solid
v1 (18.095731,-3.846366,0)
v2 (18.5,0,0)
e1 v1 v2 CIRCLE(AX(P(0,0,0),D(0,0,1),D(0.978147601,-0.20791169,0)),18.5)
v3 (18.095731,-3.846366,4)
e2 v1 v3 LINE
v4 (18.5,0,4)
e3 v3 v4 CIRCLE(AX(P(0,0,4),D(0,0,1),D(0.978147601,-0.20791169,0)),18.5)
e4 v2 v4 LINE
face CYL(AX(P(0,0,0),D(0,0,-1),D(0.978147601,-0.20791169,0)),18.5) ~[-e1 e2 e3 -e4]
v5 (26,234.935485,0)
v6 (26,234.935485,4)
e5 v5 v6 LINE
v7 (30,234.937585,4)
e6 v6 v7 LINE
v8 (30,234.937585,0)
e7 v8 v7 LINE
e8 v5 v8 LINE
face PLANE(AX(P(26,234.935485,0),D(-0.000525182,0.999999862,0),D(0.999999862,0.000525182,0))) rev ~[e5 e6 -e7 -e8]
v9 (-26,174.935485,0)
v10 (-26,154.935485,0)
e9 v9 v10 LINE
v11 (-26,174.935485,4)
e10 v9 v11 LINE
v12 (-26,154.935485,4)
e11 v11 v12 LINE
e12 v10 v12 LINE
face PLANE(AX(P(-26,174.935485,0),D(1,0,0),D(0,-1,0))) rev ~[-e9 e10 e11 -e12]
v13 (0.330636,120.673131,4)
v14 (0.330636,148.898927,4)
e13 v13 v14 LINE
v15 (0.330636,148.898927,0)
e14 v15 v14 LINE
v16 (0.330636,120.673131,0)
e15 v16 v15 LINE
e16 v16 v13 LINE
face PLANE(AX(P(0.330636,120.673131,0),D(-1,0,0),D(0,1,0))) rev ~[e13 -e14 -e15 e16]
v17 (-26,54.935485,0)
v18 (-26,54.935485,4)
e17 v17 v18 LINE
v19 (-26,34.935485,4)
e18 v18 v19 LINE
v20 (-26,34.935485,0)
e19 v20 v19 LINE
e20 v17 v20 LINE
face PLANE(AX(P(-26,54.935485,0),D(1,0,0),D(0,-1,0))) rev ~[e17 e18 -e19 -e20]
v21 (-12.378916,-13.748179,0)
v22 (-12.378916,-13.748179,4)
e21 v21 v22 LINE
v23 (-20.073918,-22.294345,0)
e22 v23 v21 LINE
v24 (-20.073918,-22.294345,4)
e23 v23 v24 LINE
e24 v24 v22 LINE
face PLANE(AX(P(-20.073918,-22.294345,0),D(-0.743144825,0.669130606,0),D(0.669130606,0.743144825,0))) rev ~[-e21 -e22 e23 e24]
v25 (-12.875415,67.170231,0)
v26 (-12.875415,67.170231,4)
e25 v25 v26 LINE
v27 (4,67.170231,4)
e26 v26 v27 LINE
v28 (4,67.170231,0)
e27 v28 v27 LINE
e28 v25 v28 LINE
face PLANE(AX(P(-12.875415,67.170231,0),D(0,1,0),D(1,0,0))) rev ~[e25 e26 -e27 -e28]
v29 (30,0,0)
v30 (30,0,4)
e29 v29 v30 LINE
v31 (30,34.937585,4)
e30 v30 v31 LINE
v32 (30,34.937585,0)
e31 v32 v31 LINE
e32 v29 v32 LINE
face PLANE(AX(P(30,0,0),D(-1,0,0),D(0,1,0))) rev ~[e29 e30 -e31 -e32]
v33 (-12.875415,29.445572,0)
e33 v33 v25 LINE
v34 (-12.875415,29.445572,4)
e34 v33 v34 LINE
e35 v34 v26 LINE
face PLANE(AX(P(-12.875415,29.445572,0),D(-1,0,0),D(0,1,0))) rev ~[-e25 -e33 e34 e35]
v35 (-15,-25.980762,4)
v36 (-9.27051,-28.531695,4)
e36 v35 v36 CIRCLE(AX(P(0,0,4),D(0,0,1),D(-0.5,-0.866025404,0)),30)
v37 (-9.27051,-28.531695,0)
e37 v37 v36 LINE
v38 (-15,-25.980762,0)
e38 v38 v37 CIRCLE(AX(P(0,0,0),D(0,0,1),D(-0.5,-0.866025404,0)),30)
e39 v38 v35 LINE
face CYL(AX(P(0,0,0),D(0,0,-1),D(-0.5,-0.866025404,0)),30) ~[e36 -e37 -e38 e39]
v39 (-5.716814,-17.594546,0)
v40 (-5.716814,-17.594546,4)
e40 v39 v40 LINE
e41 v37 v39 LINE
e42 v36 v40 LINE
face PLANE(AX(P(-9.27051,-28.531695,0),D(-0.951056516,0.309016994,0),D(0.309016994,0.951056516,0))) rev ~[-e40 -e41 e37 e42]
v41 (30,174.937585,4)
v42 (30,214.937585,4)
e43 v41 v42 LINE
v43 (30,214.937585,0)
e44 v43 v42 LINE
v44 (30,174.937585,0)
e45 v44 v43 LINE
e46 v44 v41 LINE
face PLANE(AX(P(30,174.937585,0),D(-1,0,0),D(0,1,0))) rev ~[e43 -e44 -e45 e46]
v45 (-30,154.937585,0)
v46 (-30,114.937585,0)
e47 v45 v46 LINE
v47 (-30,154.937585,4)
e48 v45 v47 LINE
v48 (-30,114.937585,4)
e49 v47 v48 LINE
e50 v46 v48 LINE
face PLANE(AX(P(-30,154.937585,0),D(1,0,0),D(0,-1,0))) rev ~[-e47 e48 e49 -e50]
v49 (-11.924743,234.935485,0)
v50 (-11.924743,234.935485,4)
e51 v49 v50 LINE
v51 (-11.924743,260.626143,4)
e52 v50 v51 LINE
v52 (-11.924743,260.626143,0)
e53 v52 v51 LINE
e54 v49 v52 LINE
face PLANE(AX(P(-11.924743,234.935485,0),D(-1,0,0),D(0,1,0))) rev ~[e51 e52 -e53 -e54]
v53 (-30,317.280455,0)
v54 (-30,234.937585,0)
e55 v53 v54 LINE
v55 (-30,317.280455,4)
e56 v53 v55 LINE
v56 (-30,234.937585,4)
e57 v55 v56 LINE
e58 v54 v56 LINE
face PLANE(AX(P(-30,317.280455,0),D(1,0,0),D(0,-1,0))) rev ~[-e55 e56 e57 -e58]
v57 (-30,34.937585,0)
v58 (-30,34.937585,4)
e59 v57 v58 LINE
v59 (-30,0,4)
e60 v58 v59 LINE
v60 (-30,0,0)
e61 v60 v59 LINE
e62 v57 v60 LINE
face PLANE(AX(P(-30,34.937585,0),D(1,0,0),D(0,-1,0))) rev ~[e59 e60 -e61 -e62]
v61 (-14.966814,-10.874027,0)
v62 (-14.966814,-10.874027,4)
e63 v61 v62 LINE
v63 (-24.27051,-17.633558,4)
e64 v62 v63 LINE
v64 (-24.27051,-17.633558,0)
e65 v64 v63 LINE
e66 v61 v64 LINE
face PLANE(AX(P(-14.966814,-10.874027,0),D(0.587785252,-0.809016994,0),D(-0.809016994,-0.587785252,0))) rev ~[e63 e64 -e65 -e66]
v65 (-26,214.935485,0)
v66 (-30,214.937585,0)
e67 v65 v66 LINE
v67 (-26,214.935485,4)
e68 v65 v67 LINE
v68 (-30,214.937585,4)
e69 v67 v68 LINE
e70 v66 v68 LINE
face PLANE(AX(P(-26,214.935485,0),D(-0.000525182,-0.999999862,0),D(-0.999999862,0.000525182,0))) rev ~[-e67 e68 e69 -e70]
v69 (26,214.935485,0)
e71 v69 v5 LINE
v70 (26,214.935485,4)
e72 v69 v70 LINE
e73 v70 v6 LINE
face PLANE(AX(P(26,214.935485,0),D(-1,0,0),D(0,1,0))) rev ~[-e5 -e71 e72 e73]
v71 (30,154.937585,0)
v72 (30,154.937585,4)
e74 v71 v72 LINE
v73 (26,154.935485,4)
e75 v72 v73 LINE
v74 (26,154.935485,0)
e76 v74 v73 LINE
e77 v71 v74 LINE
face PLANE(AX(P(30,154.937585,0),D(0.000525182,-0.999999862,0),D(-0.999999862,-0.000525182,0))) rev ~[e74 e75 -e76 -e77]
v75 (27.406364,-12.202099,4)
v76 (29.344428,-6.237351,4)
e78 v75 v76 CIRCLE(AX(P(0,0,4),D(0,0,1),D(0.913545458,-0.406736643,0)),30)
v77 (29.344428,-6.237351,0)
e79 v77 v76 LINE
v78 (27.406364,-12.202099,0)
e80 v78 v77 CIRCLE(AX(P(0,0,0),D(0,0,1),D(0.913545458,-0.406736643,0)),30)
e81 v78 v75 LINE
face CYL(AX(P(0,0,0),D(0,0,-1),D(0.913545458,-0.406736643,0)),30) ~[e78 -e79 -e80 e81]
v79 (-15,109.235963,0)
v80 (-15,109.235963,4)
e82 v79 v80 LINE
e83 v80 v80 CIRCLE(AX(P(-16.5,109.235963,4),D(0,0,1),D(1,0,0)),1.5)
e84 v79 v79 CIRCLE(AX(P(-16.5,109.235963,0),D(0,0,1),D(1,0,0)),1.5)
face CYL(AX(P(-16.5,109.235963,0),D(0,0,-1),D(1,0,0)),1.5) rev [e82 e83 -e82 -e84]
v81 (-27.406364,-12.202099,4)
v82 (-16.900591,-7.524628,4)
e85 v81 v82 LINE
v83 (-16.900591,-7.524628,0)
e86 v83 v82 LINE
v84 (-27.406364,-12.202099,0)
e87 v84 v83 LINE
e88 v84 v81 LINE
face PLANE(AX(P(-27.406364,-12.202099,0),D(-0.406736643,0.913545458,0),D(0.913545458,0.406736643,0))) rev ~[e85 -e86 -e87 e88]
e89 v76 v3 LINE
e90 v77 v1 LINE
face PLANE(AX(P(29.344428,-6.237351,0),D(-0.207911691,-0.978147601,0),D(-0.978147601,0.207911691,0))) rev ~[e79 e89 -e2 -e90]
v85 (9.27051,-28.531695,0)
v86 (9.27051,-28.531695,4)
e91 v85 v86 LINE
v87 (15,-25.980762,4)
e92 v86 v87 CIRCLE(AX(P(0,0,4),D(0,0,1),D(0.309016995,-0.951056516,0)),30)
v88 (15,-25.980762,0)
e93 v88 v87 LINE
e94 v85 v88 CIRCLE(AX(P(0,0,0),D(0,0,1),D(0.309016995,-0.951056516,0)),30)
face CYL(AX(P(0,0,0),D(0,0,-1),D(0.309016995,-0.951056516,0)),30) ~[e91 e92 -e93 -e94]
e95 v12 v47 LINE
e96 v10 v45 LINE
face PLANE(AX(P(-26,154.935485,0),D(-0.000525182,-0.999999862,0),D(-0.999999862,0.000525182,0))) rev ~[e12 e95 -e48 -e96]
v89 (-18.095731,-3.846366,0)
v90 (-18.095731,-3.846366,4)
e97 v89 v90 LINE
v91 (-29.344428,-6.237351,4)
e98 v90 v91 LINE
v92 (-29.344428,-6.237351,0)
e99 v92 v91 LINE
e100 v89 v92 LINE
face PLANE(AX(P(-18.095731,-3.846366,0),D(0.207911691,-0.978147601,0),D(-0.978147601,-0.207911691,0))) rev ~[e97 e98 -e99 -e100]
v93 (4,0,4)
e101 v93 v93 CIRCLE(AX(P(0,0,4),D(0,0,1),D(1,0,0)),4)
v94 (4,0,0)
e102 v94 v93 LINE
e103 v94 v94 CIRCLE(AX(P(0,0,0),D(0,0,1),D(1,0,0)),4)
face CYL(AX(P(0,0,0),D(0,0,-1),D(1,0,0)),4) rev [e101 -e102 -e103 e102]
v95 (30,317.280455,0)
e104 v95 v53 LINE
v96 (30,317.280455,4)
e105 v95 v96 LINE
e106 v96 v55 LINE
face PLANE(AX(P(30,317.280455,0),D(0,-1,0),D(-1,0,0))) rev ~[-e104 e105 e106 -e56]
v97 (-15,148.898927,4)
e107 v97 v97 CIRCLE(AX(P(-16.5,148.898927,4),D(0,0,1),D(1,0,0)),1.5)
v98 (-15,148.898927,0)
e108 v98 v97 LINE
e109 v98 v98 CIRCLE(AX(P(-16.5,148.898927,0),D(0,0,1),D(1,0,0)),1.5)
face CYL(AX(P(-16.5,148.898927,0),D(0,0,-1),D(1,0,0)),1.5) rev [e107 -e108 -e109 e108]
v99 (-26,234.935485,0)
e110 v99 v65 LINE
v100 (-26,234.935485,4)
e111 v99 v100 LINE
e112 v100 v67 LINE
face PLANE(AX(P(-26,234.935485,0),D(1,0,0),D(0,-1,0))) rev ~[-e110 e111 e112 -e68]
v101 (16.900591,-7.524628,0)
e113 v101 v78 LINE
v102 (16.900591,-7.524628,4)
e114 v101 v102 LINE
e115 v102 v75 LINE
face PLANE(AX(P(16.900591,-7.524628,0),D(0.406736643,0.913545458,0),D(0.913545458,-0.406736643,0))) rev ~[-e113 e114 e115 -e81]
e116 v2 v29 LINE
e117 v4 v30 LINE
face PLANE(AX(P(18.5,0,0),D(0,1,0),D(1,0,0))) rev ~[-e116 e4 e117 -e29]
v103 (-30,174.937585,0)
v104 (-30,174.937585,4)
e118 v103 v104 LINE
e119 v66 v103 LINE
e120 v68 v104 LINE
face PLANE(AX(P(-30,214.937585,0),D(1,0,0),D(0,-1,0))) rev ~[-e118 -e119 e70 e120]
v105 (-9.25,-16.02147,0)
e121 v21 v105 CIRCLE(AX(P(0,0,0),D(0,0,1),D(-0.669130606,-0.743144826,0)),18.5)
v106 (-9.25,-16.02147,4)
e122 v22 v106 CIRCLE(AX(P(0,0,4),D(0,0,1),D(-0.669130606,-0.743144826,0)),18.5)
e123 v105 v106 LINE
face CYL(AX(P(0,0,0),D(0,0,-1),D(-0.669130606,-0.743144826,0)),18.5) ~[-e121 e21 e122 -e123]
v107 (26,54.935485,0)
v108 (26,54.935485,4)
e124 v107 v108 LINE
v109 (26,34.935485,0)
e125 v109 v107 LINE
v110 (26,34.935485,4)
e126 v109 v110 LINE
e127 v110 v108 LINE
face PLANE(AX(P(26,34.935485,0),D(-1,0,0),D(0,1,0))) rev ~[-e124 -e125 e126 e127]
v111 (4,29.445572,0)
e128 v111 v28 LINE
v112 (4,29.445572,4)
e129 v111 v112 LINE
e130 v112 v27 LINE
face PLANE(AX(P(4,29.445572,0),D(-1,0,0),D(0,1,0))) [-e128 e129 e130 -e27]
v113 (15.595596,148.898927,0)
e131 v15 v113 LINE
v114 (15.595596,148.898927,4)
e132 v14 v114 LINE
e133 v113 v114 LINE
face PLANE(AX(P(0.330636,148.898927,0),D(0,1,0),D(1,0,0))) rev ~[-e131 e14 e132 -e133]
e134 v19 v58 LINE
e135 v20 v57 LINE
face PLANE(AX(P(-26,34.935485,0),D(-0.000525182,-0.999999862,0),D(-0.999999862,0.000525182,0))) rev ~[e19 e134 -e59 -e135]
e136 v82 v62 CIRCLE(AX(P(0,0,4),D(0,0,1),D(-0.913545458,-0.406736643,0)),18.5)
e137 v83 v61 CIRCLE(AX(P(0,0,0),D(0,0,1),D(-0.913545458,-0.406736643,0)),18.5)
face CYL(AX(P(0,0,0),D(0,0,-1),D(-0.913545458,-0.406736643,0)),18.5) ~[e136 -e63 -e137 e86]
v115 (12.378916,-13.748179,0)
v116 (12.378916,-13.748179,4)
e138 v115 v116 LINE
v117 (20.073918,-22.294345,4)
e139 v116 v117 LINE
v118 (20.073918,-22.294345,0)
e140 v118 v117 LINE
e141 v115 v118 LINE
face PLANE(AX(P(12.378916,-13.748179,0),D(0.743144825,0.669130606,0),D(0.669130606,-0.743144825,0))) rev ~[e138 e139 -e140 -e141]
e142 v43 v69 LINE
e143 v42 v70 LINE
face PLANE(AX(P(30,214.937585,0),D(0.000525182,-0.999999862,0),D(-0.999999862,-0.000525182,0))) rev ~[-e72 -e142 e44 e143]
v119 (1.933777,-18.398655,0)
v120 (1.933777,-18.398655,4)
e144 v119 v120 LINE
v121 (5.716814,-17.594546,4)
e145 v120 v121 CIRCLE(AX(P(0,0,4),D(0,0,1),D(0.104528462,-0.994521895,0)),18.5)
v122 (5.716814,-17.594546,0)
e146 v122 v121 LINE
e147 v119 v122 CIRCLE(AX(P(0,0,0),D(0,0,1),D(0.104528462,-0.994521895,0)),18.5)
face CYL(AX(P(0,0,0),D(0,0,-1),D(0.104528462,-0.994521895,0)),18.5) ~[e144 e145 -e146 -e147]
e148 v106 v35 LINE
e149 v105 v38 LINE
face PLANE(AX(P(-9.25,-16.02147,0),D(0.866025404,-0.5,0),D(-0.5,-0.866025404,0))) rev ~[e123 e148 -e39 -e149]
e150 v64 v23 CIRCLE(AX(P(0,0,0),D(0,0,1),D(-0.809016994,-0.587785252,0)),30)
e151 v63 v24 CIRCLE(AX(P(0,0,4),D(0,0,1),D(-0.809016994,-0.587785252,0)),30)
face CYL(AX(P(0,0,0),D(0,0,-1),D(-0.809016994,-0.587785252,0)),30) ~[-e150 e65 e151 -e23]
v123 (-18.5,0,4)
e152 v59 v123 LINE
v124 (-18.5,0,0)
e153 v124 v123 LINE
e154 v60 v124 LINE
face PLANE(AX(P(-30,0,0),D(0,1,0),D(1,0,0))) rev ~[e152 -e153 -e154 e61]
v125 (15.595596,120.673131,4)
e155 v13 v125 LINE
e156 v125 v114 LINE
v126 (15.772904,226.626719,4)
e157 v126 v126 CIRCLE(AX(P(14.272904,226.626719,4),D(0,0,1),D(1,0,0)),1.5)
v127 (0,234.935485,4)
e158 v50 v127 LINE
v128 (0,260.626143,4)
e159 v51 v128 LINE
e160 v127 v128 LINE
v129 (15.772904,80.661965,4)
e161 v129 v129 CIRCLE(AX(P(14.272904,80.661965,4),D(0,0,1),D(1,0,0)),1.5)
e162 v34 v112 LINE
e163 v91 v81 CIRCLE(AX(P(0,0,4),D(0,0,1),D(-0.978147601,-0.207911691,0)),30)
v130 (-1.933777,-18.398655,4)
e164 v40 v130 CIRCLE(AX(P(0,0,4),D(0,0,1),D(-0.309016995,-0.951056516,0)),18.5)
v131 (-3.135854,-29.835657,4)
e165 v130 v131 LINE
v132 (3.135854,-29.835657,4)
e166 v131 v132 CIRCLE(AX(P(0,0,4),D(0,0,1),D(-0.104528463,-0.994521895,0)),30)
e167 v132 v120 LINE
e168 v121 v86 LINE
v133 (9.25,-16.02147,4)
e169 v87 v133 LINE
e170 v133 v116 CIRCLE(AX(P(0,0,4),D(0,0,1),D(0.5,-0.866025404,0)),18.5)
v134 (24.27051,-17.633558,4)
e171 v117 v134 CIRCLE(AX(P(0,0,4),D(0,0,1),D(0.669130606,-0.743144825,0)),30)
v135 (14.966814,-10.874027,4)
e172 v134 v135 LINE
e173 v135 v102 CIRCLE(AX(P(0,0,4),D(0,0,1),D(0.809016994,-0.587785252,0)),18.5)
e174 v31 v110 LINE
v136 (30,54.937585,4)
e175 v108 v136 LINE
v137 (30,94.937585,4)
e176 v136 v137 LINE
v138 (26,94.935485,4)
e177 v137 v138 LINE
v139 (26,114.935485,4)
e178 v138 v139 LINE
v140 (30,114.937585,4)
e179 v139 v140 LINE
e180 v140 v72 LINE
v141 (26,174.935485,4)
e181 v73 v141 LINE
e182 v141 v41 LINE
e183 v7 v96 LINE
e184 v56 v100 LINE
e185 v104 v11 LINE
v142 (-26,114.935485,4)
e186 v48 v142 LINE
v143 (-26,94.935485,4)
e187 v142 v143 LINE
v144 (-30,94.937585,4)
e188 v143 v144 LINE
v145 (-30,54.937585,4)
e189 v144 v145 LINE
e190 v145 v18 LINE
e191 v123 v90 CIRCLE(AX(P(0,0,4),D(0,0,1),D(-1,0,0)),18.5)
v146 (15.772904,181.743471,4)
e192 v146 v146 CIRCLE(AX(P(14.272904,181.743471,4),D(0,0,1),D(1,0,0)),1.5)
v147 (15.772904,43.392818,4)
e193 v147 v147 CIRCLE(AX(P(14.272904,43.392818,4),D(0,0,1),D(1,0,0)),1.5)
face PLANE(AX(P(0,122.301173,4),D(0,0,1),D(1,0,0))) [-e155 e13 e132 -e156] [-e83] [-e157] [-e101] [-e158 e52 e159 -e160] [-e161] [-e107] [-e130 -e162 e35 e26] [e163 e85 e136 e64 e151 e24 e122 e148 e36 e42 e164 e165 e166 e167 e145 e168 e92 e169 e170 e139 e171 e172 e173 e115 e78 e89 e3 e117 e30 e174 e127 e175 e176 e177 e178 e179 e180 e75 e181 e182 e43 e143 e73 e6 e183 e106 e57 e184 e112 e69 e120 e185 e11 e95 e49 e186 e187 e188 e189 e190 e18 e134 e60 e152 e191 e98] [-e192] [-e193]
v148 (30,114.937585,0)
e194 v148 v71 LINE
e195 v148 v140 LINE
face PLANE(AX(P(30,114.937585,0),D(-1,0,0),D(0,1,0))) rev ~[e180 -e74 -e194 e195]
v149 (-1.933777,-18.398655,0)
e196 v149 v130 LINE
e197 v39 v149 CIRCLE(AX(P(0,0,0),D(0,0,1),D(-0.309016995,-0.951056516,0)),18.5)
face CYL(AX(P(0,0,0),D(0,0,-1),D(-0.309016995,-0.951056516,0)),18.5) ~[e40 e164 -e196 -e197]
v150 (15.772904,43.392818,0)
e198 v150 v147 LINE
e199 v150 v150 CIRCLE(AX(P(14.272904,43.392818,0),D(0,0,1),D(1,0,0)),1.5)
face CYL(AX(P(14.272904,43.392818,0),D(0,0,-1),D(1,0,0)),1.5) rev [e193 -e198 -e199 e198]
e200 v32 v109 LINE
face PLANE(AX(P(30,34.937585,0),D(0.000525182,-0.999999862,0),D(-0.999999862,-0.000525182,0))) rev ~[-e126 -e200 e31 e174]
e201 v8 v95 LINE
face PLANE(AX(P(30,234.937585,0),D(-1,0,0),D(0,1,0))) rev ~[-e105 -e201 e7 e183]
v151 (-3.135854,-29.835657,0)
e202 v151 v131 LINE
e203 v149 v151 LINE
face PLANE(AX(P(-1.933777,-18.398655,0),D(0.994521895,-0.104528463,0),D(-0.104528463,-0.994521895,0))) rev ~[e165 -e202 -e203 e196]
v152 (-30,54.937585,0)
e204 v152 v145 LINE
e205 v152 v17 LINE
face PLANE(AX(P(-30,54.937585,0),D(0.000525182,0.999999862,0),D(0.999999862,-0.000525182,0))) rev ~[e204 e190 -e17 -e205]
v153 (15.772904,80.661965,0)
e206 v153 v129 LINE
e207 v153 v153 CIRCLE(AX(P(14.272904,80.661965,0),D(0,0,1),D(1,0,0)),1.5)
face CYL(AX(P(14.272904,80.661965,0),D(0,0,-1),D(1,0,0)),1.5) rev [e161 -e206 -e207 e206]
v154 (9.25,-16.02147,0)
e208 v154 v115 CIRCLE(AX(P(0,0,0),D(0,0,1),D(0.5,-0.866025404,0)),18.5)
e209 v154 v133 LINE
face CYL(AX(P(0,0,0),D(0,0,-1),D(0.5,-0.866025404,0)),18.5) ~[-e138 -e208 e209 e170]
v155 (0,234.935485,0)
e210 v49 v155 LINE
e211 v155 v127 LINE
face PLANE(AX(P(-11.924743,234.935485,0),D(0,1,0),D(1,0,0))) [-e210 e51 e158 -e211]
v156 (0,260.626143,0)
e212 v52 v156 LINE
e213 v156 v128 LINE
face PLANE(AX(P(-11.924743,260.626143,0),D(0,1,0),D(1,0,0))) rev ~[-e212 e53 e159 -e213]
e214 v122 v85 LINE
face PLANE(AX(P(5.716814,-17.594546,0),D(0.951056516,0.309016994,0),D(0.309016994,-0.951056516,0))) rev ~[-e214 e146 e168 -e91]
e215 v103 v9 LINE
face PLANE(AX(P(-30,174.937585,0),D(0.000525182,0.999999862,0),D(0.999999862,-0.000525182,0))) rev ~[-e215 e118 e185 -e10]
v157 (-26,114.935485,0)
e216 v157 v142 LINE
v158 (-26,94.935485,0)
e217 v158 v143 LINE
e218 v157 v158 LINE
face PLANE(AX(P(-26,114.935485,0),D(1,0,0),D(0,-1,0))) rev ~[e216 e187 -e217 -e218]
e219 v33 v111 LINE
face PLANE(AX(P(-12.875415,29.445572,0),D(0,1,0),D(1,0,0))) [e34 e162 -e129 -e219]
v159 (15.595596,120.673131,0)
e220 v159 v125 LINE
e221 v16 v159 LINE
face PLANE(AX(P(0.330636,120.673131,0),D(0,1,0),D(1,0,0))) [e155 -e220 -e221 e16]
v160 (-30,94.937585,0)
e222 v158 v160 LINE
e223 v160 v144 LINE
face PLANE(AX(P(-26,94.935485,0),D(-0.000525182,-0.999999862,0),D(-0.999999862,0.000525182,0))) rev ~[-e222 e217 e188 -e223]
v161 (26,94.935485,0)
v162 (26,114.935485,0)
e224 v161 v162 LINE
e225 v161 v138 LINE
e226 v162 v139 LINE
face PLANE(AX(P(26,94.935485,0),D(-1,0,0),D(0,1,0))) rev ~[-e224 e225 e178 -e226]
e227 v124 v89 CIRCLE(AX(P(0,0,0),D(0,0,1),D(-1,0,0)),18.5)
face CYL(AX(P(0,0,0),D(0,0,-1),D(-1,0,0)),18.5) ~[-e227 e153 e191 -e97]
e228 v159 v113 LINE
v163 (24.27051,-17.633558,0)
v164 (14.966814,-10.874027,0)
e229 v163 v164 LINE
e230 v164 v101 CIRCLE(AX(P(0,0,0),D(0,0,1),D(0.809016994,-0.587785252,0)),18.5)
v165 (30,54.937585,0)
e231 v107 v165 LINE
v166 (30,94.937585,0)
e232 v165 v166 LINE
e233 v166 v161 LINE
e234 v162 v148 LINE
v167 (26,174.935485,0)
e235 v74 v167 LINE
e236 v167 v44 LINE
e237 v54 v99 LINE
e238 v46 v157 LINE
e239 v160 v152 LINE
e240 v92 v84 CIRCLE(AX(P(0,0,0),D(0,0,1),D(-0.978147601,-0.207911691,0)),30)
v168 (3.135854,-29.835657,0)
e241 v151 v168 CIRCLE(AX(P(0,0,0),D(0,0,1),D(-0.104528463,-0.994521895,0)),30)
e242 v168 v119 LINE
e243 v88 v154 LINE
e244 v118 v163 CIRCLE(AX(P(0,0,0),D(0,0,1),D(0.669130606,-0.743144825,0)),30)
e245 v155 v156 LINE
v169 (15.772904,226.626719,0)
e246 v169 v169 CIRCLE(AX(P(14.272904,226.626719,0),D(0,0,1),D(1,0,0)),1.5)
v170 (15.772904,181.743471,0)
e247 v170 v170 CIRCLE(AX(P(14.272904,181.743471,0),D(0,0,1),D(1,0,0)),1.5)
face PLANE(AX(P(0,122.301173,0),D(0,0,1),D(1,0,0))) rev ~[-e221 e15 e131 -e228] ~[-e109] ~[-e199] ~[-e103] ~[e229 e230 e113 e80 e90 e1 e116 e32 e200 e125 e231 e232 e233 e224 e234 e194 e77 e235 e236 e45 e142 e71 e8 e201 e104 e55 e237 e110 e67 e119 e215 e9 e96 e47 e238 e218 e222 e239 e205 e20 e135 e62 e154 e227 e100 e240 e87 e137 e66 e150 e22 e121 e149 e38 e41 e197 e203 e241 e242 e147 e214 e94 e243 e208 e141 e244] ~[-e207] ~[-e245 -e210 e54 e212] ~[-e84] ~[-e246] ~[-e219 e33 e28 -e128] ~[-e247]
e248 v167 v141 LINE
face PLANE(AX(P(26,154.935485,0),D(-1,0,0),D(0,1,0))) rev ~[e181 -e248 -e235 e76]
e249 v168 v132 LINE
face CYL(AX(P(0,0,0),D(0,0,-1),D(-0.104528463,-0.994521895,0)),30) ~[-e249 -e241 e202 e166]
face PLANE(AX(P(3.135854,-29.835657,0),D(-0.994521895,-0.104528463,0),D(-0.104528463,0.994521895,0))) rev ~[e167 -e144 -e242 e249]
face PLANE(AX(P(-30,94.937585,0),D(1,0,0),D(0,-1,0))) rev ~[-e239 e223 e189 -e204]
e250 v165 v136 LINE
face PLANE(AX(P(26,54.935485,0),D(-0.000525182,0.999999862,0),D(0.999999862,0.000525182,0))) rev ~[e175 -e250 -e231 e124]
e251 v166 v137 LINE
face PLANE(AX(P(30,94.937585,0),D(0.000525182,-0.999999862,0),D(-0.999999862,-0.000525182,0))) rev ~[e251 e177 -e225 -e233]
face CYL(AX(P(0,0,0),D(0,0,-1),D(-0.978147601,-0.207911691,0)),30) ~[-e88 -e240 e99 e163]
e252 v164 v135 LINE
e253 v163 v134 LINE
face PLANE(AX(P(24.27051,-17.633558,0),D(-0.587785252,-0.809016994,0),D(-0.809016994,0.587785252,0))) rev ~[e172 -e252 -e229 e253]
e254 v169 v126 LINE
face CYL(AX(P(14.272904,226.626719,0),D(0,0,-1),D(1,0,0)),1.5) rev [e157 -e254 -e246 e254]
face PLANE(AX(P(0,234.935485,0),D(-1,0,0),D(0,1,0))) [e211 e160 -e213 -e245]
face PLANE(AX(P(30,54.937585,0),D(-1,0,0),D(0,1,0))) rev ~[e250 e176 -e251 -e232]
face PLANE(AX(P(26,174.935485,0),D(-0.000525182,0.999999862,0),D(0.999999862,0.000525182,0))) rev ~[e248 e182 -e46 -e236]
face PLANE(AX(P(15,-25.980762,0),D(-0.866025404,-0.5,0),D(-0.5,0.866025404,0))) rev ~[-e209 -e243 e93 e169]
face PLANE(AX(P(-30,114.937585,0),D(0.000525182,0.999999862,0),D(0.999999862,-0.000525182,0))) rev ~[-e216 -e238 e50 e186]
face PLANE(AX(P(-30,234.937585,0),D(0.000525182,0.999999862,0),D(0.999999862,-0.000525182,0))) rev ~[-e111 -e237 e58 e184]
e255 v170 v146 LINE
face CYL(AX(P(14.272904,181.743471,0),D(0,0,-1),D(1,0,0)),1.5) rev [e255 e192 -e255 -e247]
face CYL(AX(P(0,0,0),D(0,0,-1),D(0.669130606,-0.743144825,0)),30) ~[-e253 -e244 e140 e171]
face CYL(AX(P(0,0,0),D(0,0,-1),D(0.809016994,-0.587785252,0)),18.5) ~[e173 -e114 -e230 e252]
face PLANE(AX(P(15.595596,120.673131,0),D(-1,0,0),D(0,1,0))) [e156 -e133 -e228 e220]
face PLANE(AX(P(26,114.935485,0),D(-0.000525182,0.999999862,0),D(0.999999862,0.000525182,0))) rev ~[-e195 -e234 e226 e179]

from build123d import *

# Parameters (mm, degrees)
SKETCH1_R           = 1.5
SKETCH1_R_2         = 4
SKETCH1_W           = 11.924742873
SKETCH1_H           = 25.690658486
SKETCH1_W_2         = 15.264959333
SKETCH1_H_2         = 28.225795916
SKETCH1_W_3         = 16.875415016
SKETCH1_H_3         = 37.724658957
BOSS_EXTRUDE1_DEPTH = 4


with BuildPart() as part:
    # Sketch1 → Boss-Extrude1 (new body)
    with BuildSketch(Plane.XY):
        with BuildLine():
            Line((-30, 34.937585281), (-30, 0))
            Line((-30, 0), (-18.5, 0))
            ThreePointArc((-18.5, 0), (-18.398655064, -1.93377657), (-18.095730614, -3.84636628))
            Line((-18.095730614, -3.84636628), (-29.344428022, -6.237350725))
            ThreePointArc((-29.344428022, -6.237350725), (-28.531695489, -9.270509831), (-27.406363729, -12.202099292))
            Line((-27.406363729, -12.202099292), (-16.900590966, -7.524627897))
            ThreePointArc((-16.900590966, -7.524627897), (-16.02146997, -9.25), (-14.966814396, -10.874027167))
            Line((-14.966814396, -10.874027167), (-24.270509831, -17.633557569))
            ThreePointArc((-24.270509831, -17.633557569), (-22.294344764, -20.073918191), (-20.073918191, -22.294344764))
            Line((-20.073918191, -22.294344764), (-12.378916218, -13.748179271))
            ThreePointArc((-12.378916218, -13.748179271), (-10.874027167, -14.966814396), (-9.25, -16.02146997))
            Line((-9.25, -16.02146997), (-15, -25.980762114))
            ThreePointArc((-15, -25.980762114), (-12.202099292, -27.406363729), (-9.270509831, -28.531695489))
            Line((-9.270509831, -28.531695489), (-5.716814396, -17.594545551))
            ThreePointArc((-5.716814396, -17.594545551), (-3.84636628, -18.095730614), (-1.93377657, -18.398655064))
            Line((-1.93377657, -18.398655064), (-3.135853898, -29.835656861))
            ThreePointArc((-3.135853898, -29.835656861), (0, -30), (3.135853898, -29.835656861))
            Line((3.135853898, -29.835656861), (1.93377657, -18.398655064))
            ThreePointArc((1.93377657, -18.398655064), (3.84636628, -18.095730614), (5.716814396, -17.594545551))
            Line((5.716814396, -17.594545551), (9.270509831, -28.531695489))
            ThreePointArc((9.270509831, -28.531695489), (12.202099292, -27.406363729), (15, -25.980762114))
            Line((15, -25.980762114), (9.25, -16.02146997))
            ThreePointArc((9.25, -16.02146997), (10.874027167, -14.966814396), (12.378916218, -13.748179271))
            Line((12.378916218, -13.748179271), (20.073918191, -22.294344764))
            ThreePointArc((20.073918191, -22.294344764), (22.294344764, -20.073918191), (24.270509831, -17.633557569))
            Line((24.270509831, -17.633557569), (14.966814396, -10.874027167))
            ThreePointArc((14.966814396, -10.874027167), (16.02146997, -9.25), (16.900590966, -7.524627897))
            Line((16.900590966, -7.524627897), (27.406363729, -12.202099292))
            ThreePointArc((27.406363729, -12.202099292), (28.531695489, -9.270509831), (29.344428022, -6.237350725))
            Line((29.344428022, -6.237350725), (18.095730614, -3.84636628))
            ThreePointArc((18.095730614, -3.84636628), (18.398655064, -1.93377657), (18.5, 0))
            Line((18.5, 0), (30, 0))
            Line((30, 0), (30, 34.937585281))
            Line((30, 34.937585281), (26, 34.935484554))
            Line((26, 34.935484554), (26, 54.935484554))
            Line((26, 54.935484554), (30, 54.937585281))
            Line((30, 54.937585281), (30, 94.937585281))
            Line((30, 94.937585281), (26, 94.935484554))
            Line((26, 94.935484554), (26, 114.935484554))
            Line((26, 114.935484554), (30, 114.937585281))
            Line((30, 114.937585281), (30, 154.937585281))
            Line((30, 154.937585281), (26, 154.935484554))
            Line((26, 154.935484554), (26, 174.935484554))
            Line((26, 174.935484554), (30, 174.937585281))
            Line((30, 174.937585281), (30, 214.937585281))
            Line((30, 214.937585281), (26, 214.935484554))
            Line((26, 214.935484554), (26, 234.935484554))
            Line((26, 234.935484554), (30, 234.937585281))
            Line((30, 234.937585281), (30, 317.280454818))
            Line((30, 317.280454818), (-30, 317.280454818))
            Line((-30, 317.280454818), (-30, 234.937585281))
            Line((-30, 234.937585281), (-26, 234.935484554))
            Line((-26, 234.935484554), (-26, 214.935484554))
            Line((-26, 214.935484554), (-30, 214.937585281))
            Line((-30, 214.937585281), (-30, 174.937585281))
            Line((-30, 174.937585281), (-26, 174.935484554))
            Line((-26, 174.935484554), (-26, 154.935484554))
            Line((-26, 154.935484554), (-30, 154.937585281))
            Line((-30, 154.937585281), (-30, 114.937585281))
            Line((-30, 114.937585281), (-26, 114.935484554))
            Line((-26, 114.935484554), (-26, 94.935484554))
            Line((-26, 94.935484554), (-30, 94.937585281))
            Line((-30, 94.937585281), (-30, 54.937585281))
            Line((-30, 54.937585281), (-26, 54.935484554))
            Line((-26, 54.935484554), (-26, 34.935484554))
            Line((-26, 34.935484554), (-30, 34.937585281))
        make_face()
        with Locations((14.272904268, 226.626719074)):
            Circle(SKETCH1_R, mode=Mode.SUBTRACT)
        Circle(SKETCH1_R_2, mode=Mode.SUBTRACT)
        with Locations((14.272904268, 181.743471487)):
            Circle(SKETCH1_R, mode=Mode.SUBTRACT)
        with Locations((-16.5, 148.898926565)):
            Circle(SKETCH1_R, mode=Mode.SUBTRACT)
        with Locations((-16.5, 109.235963151)):
            Circle(SKETCH1_R, mode=Mode.SUBTRACT)
        with Locations((14.272904268, 80.661965153)):
            Circle(SKETCH1_R, mode=Mode.SUBTRACT)
        with Locations((14.272904268, 43.392817663)):
            Circle(SKETCH1_R, mode=Mode.SUBTRACT)
        with Locations((-5.962371437, 247.780813797)):
            Rectangle(SKETCH1_W, SKETCH1_H, mode=Mode.SUBTRACT)
        with Locations((7.963115834, 134.786028607)):
            Rectangle(SKETCH1_W_2, SKETCH1_H_2, mode=Mode.SUBTRACT)
        with Locations((-4.437707508, 48.307901028)):
            Rectangle(SKETCH1_W_3, SKETCH1_H_3, mode=Mode.SUBTRACT)
    extrude(amount=BOSS_EXTRUDE1_DEPTH)


solid = part.part
